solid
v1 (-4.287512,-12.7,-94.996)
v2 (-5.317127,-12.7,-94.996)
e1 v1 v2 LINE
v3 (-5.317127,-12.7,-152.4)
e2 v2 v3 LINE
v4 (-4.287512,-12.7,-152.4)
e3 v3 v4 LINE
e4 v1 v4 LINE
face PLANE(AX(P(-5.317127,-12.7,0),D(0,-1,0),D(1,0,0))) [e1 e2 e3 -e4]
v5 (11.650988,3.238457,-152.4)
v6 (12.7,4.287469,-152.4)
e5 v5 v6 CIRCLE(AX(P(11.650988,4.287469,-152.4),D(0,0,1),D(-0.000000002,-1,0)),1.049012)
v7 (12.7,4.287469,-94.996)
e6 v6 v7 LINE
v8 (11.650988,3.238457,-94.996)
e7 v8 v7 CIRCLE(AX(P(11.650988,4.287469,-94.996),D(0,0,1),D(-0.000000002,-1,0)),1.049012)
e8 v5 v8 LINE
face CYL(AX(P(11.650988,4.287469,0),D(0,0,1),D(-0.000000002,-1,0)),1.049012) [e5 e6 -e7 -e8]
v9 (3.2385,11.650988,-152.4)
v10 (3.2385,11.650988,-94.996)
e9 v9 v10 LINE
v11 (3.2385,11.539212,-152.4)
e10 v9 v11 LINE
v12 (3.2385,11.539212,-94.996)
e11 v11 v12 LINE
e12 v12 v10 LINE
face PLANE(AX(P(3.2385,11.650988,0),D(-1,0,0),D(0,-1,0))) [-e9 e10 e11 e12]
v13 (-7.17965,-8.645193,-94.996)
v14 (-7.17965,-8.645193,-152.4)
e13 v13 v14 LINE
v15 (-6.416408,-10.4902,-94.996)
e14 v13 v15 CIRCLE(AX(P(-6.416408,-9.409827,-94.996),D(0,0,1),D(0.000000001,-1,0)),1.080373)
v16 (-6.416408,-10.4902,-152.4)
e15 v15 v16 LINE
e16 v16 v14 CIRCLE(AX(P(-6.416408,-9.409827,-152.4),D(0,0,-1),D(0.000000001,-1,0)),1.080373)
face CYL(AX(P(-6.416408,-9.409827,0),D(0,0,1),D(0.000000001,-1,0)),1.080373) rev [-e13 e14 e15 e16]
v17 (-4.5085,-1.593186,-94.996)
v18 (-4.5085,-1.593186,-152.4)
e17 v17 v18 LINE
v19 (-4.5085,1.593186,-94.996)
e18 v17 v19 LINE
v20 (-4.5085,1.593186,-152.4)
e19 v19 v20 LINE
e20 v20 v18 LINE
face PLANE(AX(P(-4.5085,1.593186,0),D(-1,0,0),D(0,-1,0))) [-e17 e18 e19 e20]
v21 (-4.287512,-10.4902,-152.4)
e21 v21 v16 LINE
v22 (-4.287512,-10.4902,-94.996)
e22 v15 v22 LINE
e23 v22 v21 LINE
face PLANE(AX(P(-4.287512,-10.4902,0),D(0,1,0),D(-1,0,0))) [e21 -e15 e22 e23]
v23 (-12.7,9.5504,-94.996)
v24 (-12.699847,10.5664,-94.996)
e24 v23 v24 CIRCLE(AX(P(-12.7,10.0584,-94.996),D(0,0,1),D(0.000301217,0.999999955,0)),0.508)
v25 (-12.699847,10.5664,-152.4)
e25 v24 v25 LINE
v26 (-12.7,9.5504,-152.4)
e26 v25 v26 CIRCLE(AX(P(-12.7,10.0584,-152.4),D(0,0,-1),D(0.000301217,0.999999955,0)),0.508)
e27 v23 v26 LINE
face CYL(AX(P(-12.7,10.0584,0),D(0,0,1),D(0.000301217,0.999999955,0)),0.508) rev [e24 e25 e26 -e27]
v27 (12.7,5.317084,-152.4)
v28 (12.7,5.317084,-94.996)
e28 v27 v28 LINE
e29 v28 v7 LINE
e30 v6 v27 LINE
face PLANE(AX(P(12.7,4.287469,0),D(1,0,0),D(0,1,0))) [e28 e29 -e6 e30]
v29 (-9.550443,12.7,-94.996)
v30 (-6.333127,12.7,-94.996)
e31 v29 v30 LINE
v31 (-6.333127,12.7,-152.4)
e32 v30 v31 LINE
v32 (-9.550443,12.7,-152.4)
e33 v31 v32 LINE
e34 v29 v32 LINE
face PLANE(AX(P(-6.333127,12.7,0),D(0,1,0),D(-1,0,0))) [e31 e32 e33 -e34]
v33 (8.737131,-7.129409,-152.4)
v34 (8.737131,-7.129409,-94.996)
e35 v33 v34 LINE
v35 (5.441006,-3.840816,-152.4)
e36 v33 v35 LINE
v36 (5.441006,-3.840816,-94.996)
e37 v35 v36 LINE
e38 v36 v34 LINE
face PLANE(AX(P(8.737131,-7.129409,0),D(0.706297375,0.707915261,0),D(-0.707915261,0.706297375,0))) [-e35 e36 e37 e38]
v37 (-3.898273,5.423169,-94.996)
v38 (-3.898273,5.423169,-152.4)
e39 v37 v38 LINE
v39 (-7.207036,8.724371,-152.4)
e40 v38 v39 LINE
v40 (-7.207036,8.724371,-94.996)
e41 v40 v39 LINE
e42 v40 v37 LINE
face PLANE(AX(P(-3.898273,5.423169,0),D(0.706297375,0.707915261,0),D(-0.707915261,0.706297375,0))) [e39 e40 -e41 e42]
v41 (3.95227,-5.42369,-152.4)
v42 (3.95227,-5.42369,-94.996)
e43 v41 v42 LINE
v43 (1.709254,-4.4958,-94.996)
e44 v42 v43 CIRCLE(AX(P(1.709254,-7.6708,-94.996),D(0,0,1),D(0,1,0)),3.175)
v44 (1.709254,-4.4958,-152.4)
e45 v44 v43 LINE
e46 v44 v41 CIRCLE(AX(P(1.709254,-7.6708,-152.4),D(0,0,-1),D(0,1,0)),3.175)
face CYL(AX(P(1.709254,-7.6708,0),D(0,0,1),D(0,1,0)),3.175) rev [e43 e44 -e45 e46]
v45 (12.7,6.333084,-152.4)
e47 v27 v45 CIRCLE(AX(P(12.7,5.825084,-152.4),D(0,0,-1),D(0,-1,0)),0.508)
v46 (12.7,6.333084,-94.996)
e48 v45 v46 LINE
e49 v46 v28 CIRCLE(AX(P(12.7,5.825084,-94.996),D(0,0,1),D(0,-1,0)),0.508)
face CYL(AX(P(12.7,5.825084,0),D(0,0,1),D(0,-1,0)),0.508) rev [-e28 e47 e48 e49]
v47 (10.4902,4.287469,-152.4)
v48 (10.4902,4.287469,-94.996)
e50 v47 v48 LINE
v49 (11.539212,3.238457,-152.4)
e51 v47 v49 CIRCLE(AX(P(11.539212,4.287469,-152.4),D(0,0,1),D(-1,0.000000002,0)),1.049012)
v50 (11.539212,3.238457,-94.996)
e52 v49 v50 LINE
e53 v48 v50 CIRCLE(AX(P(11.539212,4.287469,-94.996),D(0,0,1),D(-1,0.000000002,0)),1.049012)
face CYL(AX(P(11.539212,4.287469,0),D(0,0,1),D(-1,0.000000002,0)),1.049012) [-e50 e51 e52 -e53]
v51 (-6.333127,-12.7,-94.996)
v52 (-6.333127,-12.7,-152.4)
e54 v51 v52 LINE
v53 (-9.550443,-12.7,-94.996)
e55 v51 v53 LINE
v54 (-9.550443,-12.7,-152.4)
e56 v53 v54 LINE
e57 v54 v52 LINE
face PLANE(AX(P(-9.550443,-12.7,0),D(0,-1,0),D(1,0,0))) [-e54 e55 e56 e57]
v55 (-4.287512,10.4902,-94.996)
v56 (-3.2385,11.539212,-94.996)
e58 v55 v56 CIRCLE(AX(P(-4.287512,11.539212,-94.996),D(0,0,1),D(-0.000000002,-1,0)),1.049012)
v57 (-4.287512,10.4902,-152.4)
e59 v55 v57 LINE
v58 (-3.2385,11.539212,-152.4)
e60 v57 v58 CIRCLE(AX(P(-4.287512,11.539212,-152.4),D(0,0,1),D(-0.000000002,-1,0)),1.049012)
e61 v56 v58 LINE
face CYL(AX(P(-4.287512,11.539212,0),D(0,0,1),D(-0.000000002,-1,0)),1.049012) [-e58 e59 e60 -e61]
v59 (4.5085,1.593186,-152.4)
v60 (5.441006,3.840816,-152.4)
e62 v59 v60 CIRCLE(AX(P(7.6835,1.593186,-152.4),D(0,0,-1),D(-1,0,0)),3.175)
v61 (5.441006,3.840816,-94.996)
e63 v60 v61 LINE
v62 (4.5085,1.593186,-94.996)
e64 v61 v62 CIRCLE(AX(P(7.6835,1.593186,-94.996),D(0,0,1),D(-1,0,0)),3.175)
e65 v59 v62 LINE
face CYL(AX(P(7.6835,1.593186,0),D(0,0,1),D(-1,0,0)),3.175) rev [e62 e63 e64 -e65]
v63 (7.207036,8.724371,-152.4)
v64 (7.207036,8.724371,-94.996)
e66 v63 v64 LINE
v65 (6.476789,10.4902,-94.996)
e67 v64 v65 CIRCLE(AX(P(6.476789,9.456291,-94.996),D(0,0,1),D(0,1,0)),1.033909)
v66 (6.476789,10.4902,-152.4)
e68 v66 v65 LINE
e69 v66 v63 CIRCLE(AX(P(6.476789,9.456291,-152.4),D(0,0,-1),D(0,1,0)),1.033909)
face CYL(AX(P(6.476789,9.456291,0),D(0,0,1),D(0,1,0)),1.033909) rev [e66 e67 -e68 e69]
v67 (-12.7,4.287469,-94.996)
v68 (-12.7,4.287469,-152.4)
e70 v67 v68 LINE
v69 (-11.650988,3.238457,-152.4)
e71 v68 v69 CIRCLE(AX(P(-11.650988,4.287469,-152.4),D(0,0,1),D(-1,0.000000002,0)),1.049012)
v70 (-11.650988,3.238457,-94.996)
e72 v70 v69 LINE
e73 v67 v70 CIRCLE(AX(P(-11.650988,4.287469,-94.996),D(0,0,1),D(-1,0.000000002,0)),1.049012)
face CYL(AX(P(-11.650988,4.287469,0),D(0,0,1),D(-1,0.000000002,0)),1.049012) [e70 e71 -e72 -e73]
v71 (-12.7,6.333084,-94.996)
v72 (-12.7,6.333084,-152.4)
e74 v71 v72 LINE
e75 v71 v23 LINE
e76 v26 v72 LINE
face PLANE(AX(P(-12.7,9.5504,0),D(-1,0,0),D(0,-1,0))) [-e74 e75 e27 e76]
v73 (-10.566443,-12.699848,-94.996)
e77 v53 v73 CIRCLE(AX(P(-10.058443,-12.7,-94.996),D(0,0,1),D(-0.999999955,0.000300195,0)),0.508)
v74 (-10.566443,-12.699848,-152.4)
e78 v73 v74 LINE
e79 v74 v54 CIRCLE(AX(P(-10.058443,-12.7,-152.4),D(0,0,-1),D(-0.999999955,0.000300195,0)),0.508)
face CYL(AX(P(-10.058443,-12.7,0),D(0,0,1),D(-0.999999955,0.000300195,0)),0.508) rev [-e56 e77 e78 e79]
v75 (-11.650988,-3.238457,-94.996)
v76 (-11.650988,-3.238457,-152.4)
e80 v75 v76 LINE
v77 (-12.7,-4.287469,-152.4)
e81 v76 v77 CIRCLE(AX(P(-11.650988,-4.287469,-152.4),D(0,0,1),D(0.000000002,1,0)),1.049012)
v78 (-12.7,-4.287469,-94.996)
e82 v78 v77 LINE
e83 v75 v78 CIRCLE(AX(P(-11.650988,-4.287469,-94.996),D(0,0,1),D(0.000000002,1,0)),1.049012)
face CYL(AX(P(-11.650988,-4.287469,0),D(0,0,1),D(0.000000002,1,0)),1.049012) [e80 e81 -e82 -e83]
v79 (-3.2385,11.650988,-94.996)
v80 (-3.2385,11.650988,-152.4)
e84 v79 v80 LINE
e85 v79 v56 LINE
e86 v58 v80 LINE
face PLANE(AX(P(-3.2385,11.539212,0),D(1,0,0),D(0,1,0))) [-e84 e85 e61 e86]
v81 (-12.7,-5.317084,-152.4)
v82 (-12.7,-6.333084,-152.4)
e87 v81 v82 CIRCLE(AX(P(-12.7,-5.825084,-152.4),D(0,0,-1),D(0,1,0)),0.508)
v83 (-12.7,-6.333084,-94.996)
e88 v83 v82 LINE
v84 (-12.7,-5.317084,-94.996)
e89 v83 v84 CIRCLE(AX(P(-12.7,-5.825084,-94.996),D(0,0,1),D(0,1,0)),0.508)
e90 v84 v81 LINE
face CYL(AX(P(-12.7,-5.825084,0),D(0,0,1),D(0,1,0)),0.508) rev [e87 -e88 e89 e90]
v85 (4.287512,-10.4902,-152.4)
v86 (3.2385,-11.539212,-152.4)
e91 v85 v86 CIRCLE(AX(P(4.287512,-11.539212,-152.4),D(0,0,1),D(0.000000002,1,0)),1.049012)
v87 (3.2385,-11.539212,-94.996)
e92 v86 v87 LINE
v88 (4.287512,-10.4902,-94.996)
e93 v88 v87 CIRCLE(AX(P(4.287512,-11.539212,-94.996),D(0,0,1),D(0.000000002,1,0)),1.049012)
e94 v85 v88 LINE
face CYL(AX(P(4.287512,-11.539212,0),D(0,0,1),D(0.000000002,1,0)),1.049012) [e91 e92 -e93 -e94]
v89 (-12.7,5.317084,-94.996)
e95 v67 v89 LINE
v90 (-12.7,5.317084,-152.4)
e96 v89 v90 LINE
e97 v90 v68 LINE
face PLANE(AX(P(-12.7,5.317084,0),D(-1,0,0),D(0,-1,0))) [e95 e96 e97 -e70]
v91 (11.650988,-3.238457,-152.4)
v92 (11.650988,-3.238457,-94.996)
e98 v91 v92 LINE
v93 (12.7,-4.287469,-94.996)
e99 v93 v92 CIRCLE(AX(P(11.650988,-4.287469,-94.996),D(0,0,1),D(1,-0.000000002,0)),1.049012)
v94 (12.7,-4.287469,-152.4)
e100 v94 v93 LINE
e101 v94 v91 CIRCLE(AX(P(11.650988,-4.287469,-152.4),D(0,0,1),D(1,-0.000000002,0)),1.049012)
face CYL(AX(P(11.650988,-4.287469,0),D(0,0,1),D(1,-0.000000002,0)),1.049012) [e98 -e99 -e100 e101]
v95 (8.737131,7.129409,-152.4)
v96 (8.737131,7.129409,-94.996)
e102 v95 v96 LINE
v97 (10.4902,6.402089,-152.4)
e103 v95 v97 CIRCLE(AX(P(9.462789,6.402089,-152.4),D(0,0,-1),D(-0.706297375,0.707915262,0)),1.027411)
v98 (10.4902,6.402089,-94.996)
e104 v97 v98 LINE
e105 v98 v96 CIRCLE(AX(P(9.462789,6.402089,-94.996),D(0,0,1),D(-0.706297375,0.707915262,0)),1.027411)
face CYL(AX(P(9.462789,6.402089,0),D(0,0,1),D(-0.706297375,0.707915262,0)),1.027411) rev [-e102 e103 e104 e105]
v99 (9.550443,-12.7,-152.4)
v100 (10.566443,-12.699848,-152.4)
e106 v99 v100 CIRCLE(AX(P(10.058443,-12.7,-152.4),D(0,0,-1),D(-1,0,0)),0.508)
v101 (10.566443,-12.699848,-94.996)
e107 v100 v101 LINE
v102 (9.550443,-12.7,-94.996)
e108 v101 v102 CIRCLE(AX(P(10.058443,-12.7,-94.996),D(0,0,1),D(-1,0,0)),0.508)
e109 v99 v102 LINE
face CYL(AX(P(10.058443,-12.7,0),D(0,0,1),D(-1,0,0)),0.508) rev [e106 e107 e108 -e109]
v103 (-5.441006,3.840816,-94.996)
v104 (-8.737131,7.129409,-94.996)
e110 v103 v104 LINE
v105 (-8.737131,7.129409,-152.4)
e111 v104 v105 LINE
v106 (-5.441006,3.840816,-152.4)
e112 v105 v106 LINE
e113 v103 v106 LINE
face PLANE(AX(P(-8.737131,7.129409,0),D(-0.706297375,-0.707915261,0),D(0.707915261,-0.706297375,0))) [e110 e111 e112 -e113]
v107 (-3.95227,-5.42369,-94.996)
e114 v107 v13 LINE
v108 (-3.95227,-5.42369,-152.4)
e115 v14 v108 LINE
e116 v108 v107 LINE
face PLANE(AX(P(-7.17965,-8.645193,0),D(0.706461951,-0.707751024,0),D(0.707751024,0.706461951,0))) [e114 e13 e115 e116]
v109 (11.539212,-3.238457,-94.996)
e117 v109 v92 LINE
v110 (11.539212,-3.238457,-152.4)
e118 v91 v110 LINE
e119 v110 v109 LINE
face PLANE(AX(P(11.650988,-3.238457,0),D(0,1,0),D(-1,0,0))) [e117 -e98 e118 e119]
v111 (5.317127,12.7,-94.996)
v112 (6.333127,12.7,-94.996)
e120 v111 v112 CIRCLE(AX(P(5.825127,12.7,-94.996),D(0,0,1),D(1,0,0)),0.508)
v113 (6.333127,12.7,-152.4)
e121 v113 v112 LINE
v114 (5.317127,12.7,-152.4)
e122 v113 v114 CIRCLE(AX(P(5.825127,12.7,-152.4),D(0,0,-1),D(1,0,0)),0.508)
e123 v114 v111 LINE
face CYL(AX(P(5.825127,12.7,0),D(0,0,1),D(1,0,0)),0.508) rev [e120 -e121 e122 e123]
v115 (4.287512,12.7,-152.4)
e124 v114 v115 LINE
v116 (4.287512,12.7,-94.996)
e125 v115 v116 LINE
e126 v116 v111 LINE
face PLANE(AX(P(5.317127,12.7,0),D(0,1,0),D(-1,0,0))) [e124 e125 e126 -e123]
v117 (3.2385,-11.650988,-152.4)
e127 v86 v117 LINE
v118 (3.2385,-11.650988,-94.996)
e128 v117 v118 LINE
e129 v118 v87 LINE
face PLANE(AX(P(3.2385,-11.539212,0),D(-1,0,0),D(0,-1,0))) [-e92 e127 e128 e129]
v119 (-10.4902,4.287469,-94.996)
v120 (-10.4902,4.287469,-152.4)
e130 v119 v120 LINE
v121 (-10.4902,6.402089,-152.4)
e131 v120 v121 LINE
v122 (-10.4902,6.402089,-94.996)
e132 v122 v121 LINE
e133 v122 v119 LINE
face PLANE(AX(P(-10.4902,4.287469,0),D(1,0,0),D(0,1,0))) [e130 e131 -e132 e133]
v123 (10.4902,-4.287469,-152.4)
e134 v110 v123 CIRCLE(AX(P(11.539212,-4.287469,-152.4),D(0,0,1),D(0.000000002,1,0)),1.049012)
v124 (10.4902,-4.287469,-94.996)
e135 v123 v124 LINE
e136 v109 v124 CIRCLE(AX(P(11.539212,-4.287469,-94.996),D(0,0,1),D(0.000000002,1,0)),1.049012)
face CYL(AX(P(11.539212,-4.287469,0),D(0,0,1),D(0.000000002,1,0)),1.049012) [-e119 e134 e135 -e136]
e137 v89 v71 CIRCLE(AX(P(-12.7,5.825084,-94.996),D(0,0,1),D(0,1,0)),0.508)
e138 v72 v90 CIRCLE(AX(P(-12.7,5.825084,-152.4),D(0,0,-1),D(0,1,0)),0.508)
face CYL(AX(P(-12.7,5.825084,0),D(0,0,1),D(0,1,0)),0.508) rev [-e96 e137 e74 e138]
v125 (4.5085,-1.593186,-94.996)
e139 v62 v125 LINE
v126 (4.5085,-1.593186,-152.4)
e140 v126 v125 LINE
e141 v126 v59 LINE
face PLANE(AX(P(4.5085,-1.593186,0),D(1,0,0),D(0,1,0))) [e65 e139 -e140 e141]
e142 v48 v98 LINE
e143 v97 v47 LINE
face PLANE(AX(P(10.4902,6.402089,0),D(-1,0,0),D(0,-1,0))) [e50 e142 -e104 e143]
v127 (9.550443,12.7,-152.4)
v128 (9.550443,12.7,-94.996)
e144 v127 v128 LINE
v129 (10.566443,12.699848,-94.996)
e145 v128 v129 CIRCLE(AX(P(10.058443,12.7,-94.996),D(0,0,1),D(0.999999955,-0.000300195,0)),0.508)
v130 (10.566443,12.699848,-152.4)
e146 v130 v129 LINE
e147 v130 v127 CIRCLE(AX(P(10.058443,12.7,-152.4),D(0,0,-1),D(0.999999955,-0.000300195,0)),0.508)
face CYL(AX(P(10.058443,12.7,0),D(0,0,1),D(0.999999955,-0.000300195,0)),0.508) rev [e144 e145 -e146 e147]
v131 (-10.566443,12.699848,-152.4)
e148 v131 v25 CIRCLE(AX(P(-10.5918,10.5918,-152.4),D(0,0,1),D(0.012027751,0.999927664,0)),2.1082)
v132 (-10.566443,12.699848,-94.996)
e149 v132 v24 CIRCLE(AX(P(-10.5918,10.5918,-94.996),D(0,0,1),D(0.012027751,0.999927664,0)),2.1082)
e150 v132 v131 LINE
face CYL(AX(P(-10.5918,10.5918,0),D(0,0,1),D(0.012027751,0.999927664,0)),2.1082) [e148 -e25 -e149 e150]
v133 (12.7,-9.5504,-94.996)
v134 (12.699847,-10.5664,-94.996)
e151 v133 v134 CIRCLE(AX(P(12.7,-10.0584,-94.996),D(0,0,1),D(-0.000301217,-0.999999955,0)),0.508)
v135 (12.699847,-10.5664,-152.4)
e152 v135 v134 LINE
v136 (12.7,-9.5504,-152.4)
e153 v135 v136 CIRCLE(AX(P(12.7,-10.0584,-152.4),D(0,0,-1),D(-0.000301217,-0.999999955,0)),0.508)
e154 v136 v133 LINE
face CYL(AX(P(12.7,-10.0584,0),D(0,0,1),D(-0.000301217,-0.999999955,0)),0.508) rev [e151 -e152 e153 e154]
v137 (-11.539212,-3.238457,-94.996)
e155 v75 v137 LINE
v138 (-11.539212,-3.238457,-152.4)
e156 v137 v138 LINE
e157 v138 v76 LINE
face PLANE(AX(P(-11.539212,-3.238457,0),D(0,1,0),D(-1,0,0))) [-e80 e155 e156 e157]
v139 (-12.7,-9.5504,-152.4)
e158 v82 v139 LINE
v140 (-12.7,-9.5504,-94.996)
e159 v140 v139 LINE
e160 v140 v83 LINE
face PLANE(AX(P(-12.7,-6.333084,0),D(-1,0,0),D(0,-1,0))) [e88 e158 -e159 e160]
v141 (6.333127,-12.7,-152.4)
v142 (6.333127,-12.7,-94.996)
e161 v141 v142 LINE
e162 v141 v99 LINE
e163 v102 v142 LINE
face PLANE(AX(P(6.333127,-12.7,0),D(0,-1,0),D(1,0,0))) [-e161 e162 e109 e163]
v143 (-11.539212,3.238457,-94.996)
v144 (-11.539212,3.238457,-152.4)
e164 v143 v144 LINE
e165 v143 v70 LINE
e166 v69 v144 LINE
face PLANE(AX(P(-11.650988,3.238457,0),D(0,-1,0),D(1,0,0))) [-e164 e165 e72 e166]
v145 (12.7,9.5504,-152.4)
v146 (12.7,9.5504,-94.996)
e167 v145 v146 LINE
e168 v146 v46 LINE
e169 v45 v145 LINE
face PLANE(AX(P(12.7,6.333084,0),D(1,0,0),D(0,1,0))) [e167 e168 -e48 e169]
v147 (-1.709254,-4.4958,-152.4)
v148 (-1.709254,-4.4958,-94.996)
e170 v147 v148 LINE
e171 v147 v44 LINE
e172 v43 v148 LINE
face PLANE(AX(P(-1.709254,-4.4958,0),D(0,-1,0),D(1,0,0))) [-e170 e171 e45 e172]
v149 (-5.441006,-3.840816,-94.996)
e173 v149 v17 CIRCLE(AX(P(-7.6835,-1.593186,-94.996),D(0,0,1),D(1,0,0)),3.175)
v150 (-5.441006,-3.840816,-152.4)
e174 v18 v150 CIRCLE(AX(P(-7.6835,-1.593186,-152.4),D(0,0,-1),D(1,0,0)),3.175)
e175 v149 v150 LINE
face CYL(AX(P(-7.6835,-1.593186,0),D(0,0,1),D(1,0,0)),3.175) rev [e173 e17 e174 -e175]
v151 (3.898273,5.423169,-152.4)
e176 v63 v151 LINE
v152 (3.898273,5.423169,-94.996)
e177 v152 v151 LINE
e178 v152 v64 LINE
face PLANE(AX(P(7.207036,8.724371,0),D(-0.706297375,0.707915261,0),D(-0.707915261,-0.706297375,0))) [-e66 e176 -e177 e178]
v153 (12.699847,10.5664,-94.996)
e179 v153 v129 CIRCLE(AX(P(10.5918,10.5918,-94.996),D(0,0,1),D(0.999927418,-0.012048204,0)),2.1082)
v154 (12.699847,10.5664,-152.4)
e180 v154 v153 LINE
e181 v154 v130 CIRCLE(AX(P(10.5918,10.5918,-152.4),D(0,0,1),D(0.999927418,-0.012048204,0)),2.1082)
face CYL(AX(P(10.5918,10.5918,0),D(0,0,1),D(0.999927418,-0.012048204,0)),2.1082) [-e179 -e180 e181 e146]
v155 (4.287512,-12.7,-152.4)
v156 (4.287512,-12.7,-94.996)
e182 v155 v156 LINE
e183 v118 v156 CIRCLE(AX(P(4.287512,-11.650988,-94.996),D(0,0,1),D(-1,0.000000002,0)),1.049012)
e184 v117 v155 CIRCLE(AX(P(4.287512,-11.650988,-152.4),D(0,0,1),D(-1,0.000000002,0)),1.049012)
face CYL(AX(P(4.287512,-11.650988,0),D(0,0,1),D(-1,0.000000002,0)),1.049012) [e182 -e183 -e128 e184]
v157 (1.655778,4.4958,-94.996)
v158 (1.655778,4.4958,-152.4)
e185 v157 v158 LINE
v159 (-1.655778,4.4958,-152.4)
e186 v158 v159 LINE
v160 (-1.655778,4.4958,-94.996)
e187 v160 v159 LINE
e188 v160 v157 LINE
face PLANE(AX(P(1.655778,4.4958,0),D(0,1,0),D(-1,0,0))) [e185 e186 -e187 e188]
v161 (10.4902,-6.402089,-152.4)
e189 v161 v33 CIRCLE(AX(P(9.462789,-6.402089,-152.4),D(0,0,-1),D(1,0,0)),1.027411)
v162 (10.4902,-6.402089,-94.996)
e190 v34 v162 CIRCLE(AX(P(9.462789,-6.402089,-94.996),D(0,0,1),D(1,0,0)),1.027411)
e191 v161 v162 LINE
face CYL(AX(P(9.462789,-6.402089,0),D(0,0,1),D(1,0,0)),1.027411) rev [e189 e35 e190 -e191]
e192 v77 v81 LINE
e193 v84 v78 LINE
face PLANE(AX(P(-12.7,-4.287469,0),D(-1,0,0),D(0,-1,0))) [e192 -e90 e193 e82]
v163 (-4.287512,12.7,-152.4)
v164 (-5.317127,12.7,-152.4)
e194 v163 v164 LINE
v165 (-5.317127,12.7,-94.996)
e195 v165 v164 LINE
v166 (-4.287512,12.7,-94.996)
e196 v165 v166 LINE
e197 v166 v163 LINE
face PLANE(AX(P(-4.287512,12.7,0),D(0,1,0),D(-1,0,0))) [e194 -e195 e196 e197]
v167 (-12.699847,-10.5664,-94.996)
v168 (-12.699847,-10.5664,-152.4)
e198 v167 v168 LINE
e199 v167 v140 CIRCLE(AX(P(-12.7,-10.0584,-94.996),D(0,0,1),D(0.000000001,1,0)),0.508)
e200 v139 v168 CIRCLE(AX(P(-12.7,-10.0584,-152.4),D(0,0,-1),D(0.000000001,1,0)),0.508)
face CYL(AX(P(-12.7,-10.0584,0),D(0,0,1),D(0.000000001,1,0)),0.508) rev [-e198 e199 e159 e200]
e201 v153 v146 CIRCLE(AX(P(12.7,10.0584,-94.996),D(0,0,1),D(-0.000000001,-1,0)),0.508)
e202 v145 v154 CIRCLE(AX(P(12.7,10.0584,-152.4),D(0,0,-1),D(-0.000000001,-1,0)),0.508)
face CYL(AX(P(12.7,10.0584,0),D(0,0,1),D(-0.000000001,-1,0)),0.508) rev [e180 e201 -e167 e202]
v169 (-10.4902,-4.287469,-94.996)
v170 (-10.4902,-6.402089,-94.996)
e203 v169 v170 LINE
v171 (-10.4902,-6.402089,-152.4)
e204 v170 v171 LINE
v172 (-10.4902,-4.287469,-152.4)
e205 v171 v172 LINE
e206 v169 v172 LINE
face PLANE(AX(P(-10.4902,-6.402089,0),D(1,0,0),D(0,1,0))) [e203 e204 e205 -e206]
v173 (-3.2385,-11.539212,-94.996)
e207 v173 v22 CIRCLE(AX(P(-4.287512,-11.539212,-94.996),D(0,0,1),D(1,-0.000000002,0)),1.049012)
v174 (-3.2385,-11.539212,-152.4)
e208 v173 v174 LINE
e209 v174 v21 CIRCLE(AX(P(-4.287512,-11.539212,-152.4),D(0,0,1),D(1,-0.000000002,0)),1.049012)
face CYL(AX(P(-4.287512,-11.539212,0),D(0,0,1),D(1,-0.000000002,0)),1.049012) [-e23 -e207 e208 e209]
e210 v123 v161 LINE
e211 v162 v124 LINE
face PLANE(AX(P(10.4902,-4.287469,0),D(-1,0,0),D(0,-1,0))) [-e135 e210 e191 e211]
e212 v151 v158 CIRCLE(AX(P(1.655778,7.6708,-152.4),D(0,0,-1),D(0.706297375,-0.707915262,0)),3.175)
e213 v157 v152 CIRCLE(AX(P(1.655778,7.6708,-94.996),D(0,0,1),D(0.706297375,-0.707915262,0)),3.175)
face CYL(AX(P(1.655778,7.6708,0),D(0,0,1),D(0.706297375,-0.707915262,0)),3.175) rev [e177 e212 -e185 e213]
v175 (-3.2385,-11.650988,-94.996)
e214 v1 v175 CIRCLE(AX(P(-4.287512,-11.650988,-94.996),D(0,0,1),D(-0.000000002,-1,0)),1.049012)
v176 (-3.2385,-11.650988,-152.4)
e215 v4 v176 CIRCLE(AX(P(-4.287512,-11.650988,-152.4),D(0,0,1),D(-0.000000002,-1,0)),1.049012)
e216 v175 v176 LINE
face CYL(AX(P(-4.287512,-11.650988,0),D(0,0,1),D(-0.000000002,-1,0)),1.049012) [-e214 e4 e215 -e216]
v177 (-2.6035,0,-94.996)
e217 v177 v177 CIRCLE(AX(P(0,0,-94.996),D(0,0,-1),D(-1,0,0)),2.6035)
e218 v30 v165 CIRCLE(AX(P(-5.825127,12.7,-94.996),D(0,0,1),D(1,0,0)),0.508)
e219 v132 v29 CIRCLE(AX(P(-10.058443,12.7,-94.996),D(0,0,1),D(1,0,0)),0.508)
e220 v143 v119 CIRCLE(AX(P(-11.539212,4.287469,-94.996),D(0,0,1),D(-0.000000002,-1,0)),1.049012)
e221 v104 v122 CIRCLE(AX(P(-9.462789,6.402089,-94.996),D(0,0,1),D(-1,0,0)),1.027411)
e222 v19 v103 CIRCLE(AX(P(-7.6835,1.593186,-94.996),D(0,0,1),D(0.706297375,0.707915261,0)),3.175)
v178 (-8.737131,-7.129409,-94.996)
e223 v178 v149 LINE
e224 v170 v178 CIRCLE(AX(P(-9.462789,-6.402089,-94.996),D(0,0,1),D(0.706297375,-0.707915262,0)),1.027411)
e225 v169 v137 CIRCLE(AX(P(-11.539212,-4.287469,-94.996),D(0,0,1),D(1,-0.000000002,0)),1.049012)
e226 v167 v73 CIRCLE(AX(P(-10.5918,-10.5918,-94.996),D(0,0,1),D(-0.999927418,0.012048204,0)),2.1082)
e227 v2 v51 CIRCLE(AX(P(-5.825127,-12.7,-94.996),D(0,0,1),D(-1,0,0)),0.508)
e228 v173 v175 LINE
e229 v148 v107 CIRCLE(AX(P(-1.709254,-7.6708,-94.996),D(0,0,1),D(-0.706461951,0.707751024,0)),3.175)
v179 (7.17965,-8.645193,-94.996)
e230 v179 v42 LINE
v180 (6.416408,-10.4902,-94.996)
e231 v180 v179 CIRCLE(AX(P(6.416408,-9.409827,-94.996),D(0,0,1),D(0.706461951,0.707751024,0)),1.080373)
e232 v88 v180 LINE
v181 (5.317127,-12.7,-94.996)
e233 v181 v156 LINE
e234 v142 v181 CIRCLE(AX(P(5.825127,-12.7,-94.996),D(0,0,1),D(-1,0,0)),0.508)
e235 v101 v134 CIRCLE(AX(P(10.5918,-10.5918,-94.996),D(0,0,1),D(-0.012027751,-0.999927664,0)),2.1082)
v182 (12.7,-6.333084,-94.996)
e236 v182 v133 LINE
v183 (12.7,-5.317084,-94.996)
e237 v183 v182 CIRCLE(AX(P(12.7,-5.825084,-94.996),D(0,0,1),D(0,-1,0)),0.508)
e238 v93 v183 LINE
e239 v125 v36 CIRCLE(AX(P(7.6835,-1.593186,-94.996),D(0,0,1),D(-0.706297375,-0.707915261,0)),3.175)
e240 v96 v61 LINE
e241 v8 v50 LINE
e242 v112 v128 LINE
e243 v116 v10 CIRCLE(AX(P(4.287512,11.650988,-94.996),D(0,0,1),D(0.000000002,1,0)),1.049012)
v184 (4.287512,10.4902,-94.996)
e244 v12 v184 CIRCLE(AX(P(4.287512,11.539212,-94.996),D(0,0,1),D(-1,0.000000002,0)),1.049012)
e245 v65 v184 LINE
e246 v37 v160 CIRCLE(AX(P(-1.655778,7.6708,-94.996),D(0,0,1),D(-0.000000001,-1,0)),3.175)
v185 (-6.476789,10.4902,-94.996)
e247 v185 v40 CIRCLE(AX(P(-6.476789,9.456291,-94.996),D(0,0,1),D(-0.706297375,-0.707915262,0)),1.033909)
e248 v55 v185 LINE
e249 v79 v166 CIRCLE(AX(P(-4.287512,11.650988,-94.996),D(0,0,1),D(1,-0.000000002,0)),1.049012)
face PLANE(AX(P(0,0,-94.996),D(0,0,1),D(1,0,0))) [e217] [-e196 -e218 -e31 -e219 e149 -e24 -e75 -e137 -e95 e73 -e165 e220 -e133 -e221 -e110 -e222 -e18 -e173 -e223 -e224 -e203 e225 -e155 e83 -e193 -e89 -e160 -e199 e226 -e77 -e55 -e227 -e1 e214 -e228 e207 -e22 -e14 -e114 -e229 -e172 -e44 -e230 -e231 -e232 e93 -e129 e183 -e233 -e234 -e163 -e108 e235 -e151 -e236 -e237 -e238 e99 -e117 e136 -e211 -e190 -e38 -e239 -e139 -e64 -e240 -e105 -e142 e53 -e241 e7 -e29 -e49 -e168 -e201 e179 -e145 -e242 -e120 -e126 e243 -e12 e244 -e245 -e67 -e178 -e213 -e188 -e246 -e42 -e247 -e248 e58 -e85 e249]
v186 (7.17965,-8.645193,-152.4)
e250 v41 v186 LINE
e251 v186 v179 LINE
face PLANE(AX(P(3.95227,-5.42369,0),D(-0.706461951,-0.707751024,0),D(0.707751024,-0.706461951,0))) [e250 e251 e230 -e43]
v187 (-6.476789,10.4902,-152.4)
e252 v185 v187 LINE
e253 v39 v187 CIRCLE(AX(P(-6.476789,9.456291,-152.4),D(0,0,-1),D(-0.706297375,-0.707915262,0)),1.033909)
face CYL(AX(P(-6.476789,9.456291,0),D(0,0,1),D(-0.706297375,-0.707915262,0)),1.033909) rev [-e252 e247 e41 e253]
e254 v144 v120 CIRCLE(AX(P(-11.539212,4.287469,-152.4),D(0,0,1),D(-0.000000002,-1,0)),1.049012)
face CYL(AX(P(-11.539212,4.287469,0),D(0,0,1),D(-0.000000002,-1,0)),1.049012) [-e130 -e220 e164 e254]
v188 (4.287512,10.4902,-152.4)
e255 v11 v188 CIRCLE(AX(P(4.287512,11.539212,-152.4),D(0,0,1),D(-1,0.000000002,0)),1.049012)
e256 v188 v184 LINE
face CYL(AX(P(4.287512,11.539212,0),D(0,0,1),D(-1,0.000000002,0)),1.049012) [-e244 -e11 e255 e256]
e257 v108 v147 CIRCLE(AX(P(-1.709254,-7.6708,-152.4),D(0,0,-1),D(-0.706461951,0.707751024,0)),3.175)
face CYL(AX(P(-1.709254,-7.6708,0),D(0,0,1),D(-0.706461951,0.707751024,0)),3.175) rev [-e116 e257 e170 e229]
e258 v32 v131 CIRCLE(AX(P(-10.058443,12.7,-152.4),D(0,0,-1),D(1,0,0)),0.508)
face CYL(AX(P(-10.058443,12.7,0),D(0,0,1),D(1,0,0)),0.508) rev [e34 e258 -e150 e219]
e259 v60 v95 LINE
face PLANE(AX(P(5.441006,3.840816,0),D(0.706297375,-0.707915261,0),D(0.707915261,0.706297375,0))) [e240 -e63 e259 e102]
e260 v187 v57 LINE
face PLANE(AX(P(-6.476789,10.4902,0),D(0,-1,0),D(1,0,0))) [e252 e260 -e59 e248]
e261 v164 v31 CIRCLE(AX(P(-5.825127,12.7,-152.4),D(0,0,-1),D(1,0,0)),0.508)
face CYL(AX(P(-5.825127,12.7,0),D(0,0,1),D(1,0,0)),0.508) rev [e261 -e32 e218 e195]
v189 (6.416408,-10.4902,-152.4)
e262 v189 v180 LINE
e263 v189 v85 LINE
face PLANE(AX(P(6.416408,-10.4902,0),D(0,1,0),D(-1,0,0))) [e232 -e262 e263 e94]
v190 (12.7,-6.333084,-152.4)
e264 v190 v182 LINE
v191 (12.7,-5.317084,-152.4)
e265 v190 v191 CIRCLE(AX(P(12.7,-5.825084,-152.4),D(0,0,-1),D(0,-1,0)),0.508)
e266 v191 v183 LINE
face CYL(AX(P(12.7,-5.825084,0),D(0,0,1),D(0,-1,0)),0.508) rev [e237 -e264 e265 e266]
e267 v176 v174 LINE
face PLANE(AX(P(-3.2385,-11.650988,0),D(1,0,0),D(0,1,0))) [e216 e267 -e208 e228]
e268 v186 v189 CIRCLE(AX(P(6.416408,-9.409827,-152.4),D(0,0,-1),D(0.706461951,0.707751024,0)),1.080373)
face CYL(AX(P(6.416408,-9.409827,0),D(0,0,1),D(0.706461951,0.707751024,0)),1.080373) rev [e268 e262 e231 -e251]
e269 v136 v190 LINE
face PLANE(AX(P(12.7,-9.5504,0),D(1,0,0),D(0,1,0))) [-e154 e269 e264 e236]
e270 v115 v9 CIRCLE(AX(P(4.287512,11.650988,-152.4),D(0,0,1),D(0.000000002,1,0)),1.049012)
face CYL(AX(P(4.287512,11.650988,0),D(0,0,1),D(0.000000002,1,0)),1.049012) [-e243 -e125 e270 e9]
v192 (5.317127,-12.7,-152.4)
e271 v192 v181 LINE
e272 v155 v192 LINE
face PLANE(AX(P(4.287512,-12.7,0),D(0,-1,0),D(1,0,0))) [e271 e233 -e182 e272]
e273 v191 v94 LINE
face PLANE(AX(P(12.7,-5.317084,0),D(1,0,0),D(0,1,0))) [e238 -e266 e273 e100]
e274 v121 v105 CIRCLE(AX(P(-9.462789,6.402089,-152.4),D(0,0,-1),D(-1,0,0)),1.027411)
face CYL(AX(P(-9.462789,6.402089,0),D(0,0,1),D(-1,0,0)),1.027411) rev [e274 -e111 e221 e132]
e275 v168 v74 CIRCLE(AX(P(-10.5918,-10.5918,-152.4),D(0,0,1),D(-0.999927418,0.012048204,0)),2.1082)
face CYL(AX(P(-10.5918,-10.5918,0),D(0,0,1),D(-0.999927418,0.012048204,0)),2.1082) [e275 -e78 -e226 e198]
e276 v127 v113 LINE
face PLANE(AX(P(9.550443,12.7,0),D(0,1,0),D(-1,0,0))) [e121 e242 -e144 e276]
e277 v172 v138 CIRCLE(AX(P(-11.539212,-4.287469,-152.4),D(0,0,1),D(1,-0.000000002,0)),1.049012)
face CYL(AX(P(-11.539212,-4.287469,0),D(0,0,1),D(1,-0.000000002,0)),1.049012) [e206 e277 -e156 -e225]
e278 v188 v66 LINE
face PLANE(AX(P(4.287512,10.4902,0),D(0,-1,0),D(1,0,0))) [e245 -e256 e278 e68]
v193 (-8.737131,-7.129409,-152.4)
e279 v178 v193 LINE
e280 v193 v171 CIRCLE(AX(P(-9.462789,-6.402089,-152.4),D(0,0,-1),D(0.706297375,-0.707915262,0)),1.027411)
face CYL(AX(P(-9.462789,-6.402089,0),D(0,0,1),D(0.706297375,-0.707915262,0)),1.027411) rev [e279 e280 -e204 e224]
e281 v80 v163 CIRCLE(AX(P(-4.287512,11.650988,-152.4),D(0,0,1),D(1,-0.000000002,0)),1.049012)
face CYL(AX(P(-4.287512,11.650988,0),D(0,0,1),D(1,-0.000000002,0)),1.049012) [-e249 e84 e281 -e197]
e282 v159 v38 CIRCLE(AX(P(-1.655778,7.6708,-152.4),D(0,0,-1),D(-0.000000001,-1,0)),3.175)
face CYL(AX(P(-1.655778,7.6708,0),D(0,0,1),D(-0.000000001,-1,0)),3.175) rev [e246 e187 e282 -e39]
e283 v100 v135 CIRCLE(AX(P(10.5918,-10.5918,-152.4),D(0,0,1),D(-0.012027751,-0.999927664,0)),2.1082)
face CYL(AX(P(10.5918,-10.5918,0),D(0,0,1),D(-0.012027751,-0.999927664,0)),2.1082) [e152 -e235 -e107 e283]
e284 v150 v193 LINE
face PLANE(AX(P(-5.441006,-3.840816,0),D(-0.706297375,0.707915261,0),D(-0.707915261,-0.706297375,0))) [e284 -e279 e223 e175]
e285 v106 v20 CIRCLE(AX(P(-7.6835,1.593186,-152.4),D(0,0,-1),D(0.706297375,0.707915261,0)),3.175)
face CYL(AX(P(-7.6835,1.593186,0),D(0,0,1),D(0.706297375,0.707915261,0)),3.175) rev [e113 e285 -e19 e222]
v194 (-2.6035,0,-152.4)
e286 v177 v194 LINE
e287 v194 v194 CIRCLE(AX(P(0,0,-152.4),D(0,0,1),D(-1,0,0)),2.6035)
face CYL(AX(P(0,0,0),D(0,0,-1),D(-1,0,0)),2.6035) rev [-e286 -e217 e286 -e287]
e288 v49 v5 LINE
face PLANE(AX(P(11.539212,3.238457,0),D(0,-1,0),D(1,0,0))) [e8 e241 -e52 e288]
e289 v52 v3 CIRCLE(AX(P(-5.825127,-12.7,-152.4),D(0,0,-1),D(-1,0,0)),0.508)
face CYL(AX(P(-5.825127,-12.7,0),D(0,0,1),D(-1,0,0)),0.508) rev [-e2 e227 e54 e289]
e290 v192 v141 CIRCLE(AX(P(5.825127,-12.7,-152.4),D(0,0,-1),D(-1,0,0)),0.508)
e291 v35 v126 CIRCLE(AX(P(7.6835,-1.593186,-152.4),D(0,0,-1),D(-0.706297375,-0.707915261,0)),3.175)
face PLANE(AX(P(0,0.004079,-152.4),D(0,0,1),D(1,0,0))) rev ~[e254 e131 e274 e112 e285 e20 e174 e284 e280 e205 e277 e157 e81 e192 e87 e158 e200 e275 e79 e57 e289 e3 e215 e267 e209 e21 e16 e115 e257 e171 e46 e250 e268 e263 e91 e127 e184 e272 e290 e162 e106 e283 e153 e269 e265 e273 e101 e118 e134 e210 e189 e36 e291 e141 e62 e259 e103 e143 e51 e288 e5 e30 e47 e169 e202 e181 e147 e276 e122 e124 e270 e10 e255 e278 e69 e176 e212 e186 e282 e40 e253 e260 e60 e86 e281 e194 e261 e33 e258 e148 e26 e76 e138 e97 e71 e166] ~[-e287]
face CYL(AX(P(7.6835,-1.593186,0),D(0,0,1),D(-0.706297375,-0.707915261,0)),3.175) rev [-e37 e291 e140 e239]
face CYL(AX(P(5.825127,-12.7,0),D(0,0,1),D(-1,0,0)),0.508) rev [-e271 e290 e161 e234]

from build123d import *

# Parameters (mm, degrees)
SKETCH1_R           = 2.6035
BOSS_EXTRUDE1_DEPTH = 152.4
SKETCH2_R           = 23.941884012
CUT_EXTRUDE1_DEPTH  = 247.396


with BuildPart() as part:
    # Sketch1 → Boss-Extrude1 (new, symmetric)
    with BuildSketch(Plane.XY):
        with BuildLine():
            Line((-7.179650497, -8.645192506), (-3.952270251, -5.423690499))
            ThreePointArc((-3.952270251, -5.423690499), (-2.922936451, -4.736929036), (-1.709253557, -4.4958))
            Line((-1.709253557, -4.4958), (1.709253557, -4.4958))
            ThreePointArc((1.709253557, -4.4958), (2.922936451, -4.736929036), (3.952270251, -5.423690499))
            Line((3.952270251, -5.423690499), (7.179650497, -8.645192506))
            ThreePointArc((7.179650497, -8.645192506), (7.41473083, -9.822813117), (6.416408329, -10.4902))
            Line((6.416408329, -10.4902), (4.287512407, -10.4902))
            ThreePointArc((4.287512407, -10.4902), (3.54574862, -10.79744862), (3.2385, -11.539212407))
            Line((3.2385, -11.539212407), (3.2385, -11.650987593))
            ThreePointArc((3.2385, -11.650987593), (3.54574862, -12.39275138), (4.287512407, -12.7))
            Line((4.287512407, -12.7), (5.317126718, -12.7))
            ThreePointArc((5.317126718, -12.7), (5.825126718, -12.192), (6.333126718, -12.7))
            Line((6.333126718, -12.7), (9.550443118, -12.7))
            ThreePointArc((9.550443118, -12.7), (10.058366869, -12.192000006), (10.566443095, -12.699847501))
            ThreePointArc((10.566443095, -12.699847501), (12.082537762, -12.08250727), (12.699846982, -10.566399977))
            ThreePointArc((12.699846982, -10.566399977), (12.192000006, -10.058323491), (12.7, -9.5504))
            Line((12.7, -9.5504), (12.7, -6.3330836))
            ThreePointArc((12.7, -6.3330836), (12.192, -5.8250836), (12.7, -5.3170836))
            Line((12.7, -5.3170836), (12.7, -4.287469289))
            ThreePointArc((12.7, -4.287469289), (12.39275138, -3.545705502), (11.650987593, -3.238456882))
            Line((11.650987593, -3.238456882), (11.539212407, -3.238456882))
            ThreePointArc((11.539212407, -3.238456882), (10.79744862, -3.545705502), (10.4902, -4.287469289))
            Line((10.4902, -4.287469289), (10.4902, -6.402089023))
            ThreePointArc((10.4902, -6.402089023), (9.856505071, -7.351067942), (8.737131347, -7.129408934))
            Line((8.737131347, -7.129408934), (5.441005833, -3.840816462))
            ThreePointArc((5.441005833, -3.840816462), (4.750877967, -2.809883091), (4.5085, -1.593185507))
            Line((4.5085, -1.593185507), (4.5085, 1.593185507))
            ThreePointArc((4.5085, 1.593185507), (4.750877967, 2.809883091), (5.441005833, 3.840816462))
            Line((5.441005833, 3.840816462), (8.737131347, 7.129408934))
            ThreePointArc((8.737131347, 7.129408934), (9.856505071, 7.351067942), (10.4902, 6.402089023))
            Line((10.4902, 6.402089023), (10.4902, 4.287469289))
            ThreePointArc((10.4902, 4.287469289), (10.79744862, 3.545705502), (11.539212407, 3.238456882))
            Line((11.539212407, 3.238456882), (11.650987593, 3.238456882))
            ThreePointArc((11.650987593, 3.238456882), (12.39275138, 3.545705502), (12.7, 4.287469289))
            Line((12.7, 4.287469289), (12.7, 5.3170836))
            ThreePointArc((12.7, 5.3170836), (12.192, 5.8250836), (12.7, 6.3330836))
            Line((12.7, 6.3330836), (12.7, 9.5504))
            ThreePointArc((12.7, 9.5504), (12.192000006, 10.058323491), (12.699846982, 10.566399977))
            ThreePointArc((12.699846982, 10.566399977), (12.082537762, 12.08250727), (10.566443095, 12.699847501))
            ThreePointArc((10.566443095, 12.699847501), (10.058366869, 12.192000006), (9.550443118, 12.7))
            Line((9.550443118, 12.7), (6.333126718, 12.7))
            ThreePointArc((6.333126718, 12.7), (5.825126718, 12.192), (5.317126718, 12.7))
            Line((5.317126718, 12.7), (4.287512407, 12.7))
            ThreePointArc((4.287512407, 12.7), (3.54574862, 12.39275138), (3.2385, 11.650987593))
            Line((3.2385, 11.650987593), (3.2385, 11.539212407))
            ThreePointArc((3.2385, 11.539212407), (3.54574862, 10.79744862), (4.287512407, 10.4902))
            Line((4.287512407, 10.4902), (6.476788598, 10.4902))
            ThreePointArc((6.476788598, 10.4902), (7.432222385, 9.85140422), (7.207036008, 8.724370562))
            Line((7.207036008, 8.724370562), (3.898272566, 5.423169045))
            ThreePointArc((3.898272566, 5.423169045), (2.869120213, 4.736787962), (1.655778399, 4.4958))
            Line((1.655778399, 4.4958), (-1.655778399, 4.4958))
            ThreePointArc((-1.655778399, 4.4958), (-2.869120213, 4.736787962), (-3.898272566, 5.423169045))
            Line((-3.898272566, 5.423169045), (-7.207036008, 8.724370562))
            ThreePointArc((-7.207036008, 8.724370562), (-7.432222385, 9.85140422), (-6.476788598, 10.4902))
            Line((-6.476788598, 10.4902), (-4.287512407, 10.4902))
            ThreePointArc((-4.287512407, 10.4902), (-3.54574862, 10.79744862), (-3.2385, 11.539212407))
            Line((-3.2385, 11.539212407), (-3.2385, 11.650987593))
            ThreePointArc((-3.2385, 11.650987593), (-3.54574862, 12.39275138), (-4.287512407, 12.7))
            Line((-4.287512407, 12.7), (-5.317126718, 12.7))
            ThreePointArc((-5.317126718, 12.7), (-5.825126718, 12.192), (-6.333126718, 12.7))
            Line((-6.333126718, 12.7), (-9.550443118, 12.7))
            ThreePointArc((-9.550443118, 12.7), (-10.058366869, 12.192000006), (-10.566443095, 12.699847501))
            ThreePointArc((-10.566443095, 12.699847501), (-12.082537762, 12.08250727), (-12.699846982, 10.566399977))
            ThreePointArc((-12.699846982, 10.566399977), (-12.192000006, 10.058323491), (-12.7, 9.5504))
            Line((-12.7, 9.5504), (-12.7, 6.3330836))
            ThreePointArc((-12.7, 6.3330836), (-12.192, 5.8250836), (-12.7, 5.3170836))
            Line((-12.7, 5.3170836), (-12.7, 4.287469289))
            ThreePointArc((-12.7, 4.287469289), (-12.39275138, 3.545705502), (-11.650987593, 3.238456882))
            Line((-11.650987593, 3.238456882), (-11.539212407, 3.238456882))
            ThreePointArc((-11.539212407, 3.238456882), (-10.79744862, 3.545705502), (-10.4902, 4.287469289))
            Line((-10.4902, 4.287469289), (-10.4902, 6.402089023))
            ThreePointArc((-10.4902, 6.402089023), (-9.856505071, 7.351067942), (-8.737131347, 7.129408934))
            Line((-8.737131347, 7.129408934), (-5.441005833, 3.840816462))
            ThreePointArc((-5.441005833, 3.840816462), (-4.750877967, 2.809883091), (-4.5085, 1.593185507))
            Line((-4.5085, 1.593185507), (-4.5085, -1.593185507))
            ThreePointArc((-4.5085, -1.593185507), (-4.750877967, -2.809883091), (-5.441005833, -3.840816462))
            Line((-5.441005833, -3.840816462), (-8.737131347, -7.129408934))
            ThreePointArc((-8.737131347, -7.129408934), (-9.856505071, -7.351067942), (-10.4902, -6.402089023))
            Line((-10.4902, -6.402089023), (-10.4902, -4.287469289))
            ThreePointArc((-10.4902, -4.287469289), (-10.79744862, -3.545705502), (-11.539212407, -3.238456882))
            Line((-11.539212407, -3.238456882), (-11.650987593, -3.238456882))
            ThreePointArc((-11.650987593, -3.238456882), (-12.39275138, -3.545705502), (-12.7, -4.287469289))
            Line((-12.7, -4.287469289), (-12.7, -5.3170836))
            ThreePointArc((-12.7, -5.3170836), (-12.192, -5.8250836), (-12.7, -6.3330836))
            Line((-12.7, -6.3330836), (-12.7, -9.5504))
            ThreePointArc((-12.7, -9.5504), (-12.192000006, -10.058323491), (-12.699846982, -10.566399977))
            ThreePointArc((-12.699846982, -10.566399977), (-12.082537762, -12.08250727), (-10.566443095, -12.699847501))
            ThreePointArc((-10.566443095, -12.699847501), (-10.058366869, -12.192000006), (-9.550443118, -12.7))
            Line((-9.550443118, -12.7), (-6.333126718, -12.7))
            ThreePointArc((-6.333126718, -12.7), (-5.825126718, -12.192), (-5.317126718, -12.7))
            Line((-5.317126718, -12.7), (-4.287512407, -12.7))
            ThreePointArc((-4.287512407, -12.7), (-3.54574862, -12.39275138), (-3.2385, -11.650987593))
            Line((-3.2385, -11.650987593), (-3.2385, -11.539212407))
            ThreePointArc((-3.2385, -11.539212407), (-3.54574862, -10.79744862), (-4.287512407, -10.4902))
            Line((-4.287512407, -10.4902), (-6.416408329, -10.4902))
            ThreePointArc((-6.416408329, -10.4902), (-7.41473083, -9.822813117), (-7.179650497, -8.645192506))
        make_face()
        with Locations(Location((0, 0, 0), (0, 0, 180))):
            Circle(SKETCH1_R, mode=Mode.SUBTRACT)
    extrude(amount=BOSS_EXTRUDE1_DEPTH, both=True)

    # Sketch2 → Cut-Extrude1 (cut)
    with BuildSketch(Plane.XY.offset(152.4)):
        Circle(SKETCH2_R)
    extrude(amount=-CUT_EXTRUDE1_DEPTH, mode=Mode.SUBTRACT)


solid = part.part
